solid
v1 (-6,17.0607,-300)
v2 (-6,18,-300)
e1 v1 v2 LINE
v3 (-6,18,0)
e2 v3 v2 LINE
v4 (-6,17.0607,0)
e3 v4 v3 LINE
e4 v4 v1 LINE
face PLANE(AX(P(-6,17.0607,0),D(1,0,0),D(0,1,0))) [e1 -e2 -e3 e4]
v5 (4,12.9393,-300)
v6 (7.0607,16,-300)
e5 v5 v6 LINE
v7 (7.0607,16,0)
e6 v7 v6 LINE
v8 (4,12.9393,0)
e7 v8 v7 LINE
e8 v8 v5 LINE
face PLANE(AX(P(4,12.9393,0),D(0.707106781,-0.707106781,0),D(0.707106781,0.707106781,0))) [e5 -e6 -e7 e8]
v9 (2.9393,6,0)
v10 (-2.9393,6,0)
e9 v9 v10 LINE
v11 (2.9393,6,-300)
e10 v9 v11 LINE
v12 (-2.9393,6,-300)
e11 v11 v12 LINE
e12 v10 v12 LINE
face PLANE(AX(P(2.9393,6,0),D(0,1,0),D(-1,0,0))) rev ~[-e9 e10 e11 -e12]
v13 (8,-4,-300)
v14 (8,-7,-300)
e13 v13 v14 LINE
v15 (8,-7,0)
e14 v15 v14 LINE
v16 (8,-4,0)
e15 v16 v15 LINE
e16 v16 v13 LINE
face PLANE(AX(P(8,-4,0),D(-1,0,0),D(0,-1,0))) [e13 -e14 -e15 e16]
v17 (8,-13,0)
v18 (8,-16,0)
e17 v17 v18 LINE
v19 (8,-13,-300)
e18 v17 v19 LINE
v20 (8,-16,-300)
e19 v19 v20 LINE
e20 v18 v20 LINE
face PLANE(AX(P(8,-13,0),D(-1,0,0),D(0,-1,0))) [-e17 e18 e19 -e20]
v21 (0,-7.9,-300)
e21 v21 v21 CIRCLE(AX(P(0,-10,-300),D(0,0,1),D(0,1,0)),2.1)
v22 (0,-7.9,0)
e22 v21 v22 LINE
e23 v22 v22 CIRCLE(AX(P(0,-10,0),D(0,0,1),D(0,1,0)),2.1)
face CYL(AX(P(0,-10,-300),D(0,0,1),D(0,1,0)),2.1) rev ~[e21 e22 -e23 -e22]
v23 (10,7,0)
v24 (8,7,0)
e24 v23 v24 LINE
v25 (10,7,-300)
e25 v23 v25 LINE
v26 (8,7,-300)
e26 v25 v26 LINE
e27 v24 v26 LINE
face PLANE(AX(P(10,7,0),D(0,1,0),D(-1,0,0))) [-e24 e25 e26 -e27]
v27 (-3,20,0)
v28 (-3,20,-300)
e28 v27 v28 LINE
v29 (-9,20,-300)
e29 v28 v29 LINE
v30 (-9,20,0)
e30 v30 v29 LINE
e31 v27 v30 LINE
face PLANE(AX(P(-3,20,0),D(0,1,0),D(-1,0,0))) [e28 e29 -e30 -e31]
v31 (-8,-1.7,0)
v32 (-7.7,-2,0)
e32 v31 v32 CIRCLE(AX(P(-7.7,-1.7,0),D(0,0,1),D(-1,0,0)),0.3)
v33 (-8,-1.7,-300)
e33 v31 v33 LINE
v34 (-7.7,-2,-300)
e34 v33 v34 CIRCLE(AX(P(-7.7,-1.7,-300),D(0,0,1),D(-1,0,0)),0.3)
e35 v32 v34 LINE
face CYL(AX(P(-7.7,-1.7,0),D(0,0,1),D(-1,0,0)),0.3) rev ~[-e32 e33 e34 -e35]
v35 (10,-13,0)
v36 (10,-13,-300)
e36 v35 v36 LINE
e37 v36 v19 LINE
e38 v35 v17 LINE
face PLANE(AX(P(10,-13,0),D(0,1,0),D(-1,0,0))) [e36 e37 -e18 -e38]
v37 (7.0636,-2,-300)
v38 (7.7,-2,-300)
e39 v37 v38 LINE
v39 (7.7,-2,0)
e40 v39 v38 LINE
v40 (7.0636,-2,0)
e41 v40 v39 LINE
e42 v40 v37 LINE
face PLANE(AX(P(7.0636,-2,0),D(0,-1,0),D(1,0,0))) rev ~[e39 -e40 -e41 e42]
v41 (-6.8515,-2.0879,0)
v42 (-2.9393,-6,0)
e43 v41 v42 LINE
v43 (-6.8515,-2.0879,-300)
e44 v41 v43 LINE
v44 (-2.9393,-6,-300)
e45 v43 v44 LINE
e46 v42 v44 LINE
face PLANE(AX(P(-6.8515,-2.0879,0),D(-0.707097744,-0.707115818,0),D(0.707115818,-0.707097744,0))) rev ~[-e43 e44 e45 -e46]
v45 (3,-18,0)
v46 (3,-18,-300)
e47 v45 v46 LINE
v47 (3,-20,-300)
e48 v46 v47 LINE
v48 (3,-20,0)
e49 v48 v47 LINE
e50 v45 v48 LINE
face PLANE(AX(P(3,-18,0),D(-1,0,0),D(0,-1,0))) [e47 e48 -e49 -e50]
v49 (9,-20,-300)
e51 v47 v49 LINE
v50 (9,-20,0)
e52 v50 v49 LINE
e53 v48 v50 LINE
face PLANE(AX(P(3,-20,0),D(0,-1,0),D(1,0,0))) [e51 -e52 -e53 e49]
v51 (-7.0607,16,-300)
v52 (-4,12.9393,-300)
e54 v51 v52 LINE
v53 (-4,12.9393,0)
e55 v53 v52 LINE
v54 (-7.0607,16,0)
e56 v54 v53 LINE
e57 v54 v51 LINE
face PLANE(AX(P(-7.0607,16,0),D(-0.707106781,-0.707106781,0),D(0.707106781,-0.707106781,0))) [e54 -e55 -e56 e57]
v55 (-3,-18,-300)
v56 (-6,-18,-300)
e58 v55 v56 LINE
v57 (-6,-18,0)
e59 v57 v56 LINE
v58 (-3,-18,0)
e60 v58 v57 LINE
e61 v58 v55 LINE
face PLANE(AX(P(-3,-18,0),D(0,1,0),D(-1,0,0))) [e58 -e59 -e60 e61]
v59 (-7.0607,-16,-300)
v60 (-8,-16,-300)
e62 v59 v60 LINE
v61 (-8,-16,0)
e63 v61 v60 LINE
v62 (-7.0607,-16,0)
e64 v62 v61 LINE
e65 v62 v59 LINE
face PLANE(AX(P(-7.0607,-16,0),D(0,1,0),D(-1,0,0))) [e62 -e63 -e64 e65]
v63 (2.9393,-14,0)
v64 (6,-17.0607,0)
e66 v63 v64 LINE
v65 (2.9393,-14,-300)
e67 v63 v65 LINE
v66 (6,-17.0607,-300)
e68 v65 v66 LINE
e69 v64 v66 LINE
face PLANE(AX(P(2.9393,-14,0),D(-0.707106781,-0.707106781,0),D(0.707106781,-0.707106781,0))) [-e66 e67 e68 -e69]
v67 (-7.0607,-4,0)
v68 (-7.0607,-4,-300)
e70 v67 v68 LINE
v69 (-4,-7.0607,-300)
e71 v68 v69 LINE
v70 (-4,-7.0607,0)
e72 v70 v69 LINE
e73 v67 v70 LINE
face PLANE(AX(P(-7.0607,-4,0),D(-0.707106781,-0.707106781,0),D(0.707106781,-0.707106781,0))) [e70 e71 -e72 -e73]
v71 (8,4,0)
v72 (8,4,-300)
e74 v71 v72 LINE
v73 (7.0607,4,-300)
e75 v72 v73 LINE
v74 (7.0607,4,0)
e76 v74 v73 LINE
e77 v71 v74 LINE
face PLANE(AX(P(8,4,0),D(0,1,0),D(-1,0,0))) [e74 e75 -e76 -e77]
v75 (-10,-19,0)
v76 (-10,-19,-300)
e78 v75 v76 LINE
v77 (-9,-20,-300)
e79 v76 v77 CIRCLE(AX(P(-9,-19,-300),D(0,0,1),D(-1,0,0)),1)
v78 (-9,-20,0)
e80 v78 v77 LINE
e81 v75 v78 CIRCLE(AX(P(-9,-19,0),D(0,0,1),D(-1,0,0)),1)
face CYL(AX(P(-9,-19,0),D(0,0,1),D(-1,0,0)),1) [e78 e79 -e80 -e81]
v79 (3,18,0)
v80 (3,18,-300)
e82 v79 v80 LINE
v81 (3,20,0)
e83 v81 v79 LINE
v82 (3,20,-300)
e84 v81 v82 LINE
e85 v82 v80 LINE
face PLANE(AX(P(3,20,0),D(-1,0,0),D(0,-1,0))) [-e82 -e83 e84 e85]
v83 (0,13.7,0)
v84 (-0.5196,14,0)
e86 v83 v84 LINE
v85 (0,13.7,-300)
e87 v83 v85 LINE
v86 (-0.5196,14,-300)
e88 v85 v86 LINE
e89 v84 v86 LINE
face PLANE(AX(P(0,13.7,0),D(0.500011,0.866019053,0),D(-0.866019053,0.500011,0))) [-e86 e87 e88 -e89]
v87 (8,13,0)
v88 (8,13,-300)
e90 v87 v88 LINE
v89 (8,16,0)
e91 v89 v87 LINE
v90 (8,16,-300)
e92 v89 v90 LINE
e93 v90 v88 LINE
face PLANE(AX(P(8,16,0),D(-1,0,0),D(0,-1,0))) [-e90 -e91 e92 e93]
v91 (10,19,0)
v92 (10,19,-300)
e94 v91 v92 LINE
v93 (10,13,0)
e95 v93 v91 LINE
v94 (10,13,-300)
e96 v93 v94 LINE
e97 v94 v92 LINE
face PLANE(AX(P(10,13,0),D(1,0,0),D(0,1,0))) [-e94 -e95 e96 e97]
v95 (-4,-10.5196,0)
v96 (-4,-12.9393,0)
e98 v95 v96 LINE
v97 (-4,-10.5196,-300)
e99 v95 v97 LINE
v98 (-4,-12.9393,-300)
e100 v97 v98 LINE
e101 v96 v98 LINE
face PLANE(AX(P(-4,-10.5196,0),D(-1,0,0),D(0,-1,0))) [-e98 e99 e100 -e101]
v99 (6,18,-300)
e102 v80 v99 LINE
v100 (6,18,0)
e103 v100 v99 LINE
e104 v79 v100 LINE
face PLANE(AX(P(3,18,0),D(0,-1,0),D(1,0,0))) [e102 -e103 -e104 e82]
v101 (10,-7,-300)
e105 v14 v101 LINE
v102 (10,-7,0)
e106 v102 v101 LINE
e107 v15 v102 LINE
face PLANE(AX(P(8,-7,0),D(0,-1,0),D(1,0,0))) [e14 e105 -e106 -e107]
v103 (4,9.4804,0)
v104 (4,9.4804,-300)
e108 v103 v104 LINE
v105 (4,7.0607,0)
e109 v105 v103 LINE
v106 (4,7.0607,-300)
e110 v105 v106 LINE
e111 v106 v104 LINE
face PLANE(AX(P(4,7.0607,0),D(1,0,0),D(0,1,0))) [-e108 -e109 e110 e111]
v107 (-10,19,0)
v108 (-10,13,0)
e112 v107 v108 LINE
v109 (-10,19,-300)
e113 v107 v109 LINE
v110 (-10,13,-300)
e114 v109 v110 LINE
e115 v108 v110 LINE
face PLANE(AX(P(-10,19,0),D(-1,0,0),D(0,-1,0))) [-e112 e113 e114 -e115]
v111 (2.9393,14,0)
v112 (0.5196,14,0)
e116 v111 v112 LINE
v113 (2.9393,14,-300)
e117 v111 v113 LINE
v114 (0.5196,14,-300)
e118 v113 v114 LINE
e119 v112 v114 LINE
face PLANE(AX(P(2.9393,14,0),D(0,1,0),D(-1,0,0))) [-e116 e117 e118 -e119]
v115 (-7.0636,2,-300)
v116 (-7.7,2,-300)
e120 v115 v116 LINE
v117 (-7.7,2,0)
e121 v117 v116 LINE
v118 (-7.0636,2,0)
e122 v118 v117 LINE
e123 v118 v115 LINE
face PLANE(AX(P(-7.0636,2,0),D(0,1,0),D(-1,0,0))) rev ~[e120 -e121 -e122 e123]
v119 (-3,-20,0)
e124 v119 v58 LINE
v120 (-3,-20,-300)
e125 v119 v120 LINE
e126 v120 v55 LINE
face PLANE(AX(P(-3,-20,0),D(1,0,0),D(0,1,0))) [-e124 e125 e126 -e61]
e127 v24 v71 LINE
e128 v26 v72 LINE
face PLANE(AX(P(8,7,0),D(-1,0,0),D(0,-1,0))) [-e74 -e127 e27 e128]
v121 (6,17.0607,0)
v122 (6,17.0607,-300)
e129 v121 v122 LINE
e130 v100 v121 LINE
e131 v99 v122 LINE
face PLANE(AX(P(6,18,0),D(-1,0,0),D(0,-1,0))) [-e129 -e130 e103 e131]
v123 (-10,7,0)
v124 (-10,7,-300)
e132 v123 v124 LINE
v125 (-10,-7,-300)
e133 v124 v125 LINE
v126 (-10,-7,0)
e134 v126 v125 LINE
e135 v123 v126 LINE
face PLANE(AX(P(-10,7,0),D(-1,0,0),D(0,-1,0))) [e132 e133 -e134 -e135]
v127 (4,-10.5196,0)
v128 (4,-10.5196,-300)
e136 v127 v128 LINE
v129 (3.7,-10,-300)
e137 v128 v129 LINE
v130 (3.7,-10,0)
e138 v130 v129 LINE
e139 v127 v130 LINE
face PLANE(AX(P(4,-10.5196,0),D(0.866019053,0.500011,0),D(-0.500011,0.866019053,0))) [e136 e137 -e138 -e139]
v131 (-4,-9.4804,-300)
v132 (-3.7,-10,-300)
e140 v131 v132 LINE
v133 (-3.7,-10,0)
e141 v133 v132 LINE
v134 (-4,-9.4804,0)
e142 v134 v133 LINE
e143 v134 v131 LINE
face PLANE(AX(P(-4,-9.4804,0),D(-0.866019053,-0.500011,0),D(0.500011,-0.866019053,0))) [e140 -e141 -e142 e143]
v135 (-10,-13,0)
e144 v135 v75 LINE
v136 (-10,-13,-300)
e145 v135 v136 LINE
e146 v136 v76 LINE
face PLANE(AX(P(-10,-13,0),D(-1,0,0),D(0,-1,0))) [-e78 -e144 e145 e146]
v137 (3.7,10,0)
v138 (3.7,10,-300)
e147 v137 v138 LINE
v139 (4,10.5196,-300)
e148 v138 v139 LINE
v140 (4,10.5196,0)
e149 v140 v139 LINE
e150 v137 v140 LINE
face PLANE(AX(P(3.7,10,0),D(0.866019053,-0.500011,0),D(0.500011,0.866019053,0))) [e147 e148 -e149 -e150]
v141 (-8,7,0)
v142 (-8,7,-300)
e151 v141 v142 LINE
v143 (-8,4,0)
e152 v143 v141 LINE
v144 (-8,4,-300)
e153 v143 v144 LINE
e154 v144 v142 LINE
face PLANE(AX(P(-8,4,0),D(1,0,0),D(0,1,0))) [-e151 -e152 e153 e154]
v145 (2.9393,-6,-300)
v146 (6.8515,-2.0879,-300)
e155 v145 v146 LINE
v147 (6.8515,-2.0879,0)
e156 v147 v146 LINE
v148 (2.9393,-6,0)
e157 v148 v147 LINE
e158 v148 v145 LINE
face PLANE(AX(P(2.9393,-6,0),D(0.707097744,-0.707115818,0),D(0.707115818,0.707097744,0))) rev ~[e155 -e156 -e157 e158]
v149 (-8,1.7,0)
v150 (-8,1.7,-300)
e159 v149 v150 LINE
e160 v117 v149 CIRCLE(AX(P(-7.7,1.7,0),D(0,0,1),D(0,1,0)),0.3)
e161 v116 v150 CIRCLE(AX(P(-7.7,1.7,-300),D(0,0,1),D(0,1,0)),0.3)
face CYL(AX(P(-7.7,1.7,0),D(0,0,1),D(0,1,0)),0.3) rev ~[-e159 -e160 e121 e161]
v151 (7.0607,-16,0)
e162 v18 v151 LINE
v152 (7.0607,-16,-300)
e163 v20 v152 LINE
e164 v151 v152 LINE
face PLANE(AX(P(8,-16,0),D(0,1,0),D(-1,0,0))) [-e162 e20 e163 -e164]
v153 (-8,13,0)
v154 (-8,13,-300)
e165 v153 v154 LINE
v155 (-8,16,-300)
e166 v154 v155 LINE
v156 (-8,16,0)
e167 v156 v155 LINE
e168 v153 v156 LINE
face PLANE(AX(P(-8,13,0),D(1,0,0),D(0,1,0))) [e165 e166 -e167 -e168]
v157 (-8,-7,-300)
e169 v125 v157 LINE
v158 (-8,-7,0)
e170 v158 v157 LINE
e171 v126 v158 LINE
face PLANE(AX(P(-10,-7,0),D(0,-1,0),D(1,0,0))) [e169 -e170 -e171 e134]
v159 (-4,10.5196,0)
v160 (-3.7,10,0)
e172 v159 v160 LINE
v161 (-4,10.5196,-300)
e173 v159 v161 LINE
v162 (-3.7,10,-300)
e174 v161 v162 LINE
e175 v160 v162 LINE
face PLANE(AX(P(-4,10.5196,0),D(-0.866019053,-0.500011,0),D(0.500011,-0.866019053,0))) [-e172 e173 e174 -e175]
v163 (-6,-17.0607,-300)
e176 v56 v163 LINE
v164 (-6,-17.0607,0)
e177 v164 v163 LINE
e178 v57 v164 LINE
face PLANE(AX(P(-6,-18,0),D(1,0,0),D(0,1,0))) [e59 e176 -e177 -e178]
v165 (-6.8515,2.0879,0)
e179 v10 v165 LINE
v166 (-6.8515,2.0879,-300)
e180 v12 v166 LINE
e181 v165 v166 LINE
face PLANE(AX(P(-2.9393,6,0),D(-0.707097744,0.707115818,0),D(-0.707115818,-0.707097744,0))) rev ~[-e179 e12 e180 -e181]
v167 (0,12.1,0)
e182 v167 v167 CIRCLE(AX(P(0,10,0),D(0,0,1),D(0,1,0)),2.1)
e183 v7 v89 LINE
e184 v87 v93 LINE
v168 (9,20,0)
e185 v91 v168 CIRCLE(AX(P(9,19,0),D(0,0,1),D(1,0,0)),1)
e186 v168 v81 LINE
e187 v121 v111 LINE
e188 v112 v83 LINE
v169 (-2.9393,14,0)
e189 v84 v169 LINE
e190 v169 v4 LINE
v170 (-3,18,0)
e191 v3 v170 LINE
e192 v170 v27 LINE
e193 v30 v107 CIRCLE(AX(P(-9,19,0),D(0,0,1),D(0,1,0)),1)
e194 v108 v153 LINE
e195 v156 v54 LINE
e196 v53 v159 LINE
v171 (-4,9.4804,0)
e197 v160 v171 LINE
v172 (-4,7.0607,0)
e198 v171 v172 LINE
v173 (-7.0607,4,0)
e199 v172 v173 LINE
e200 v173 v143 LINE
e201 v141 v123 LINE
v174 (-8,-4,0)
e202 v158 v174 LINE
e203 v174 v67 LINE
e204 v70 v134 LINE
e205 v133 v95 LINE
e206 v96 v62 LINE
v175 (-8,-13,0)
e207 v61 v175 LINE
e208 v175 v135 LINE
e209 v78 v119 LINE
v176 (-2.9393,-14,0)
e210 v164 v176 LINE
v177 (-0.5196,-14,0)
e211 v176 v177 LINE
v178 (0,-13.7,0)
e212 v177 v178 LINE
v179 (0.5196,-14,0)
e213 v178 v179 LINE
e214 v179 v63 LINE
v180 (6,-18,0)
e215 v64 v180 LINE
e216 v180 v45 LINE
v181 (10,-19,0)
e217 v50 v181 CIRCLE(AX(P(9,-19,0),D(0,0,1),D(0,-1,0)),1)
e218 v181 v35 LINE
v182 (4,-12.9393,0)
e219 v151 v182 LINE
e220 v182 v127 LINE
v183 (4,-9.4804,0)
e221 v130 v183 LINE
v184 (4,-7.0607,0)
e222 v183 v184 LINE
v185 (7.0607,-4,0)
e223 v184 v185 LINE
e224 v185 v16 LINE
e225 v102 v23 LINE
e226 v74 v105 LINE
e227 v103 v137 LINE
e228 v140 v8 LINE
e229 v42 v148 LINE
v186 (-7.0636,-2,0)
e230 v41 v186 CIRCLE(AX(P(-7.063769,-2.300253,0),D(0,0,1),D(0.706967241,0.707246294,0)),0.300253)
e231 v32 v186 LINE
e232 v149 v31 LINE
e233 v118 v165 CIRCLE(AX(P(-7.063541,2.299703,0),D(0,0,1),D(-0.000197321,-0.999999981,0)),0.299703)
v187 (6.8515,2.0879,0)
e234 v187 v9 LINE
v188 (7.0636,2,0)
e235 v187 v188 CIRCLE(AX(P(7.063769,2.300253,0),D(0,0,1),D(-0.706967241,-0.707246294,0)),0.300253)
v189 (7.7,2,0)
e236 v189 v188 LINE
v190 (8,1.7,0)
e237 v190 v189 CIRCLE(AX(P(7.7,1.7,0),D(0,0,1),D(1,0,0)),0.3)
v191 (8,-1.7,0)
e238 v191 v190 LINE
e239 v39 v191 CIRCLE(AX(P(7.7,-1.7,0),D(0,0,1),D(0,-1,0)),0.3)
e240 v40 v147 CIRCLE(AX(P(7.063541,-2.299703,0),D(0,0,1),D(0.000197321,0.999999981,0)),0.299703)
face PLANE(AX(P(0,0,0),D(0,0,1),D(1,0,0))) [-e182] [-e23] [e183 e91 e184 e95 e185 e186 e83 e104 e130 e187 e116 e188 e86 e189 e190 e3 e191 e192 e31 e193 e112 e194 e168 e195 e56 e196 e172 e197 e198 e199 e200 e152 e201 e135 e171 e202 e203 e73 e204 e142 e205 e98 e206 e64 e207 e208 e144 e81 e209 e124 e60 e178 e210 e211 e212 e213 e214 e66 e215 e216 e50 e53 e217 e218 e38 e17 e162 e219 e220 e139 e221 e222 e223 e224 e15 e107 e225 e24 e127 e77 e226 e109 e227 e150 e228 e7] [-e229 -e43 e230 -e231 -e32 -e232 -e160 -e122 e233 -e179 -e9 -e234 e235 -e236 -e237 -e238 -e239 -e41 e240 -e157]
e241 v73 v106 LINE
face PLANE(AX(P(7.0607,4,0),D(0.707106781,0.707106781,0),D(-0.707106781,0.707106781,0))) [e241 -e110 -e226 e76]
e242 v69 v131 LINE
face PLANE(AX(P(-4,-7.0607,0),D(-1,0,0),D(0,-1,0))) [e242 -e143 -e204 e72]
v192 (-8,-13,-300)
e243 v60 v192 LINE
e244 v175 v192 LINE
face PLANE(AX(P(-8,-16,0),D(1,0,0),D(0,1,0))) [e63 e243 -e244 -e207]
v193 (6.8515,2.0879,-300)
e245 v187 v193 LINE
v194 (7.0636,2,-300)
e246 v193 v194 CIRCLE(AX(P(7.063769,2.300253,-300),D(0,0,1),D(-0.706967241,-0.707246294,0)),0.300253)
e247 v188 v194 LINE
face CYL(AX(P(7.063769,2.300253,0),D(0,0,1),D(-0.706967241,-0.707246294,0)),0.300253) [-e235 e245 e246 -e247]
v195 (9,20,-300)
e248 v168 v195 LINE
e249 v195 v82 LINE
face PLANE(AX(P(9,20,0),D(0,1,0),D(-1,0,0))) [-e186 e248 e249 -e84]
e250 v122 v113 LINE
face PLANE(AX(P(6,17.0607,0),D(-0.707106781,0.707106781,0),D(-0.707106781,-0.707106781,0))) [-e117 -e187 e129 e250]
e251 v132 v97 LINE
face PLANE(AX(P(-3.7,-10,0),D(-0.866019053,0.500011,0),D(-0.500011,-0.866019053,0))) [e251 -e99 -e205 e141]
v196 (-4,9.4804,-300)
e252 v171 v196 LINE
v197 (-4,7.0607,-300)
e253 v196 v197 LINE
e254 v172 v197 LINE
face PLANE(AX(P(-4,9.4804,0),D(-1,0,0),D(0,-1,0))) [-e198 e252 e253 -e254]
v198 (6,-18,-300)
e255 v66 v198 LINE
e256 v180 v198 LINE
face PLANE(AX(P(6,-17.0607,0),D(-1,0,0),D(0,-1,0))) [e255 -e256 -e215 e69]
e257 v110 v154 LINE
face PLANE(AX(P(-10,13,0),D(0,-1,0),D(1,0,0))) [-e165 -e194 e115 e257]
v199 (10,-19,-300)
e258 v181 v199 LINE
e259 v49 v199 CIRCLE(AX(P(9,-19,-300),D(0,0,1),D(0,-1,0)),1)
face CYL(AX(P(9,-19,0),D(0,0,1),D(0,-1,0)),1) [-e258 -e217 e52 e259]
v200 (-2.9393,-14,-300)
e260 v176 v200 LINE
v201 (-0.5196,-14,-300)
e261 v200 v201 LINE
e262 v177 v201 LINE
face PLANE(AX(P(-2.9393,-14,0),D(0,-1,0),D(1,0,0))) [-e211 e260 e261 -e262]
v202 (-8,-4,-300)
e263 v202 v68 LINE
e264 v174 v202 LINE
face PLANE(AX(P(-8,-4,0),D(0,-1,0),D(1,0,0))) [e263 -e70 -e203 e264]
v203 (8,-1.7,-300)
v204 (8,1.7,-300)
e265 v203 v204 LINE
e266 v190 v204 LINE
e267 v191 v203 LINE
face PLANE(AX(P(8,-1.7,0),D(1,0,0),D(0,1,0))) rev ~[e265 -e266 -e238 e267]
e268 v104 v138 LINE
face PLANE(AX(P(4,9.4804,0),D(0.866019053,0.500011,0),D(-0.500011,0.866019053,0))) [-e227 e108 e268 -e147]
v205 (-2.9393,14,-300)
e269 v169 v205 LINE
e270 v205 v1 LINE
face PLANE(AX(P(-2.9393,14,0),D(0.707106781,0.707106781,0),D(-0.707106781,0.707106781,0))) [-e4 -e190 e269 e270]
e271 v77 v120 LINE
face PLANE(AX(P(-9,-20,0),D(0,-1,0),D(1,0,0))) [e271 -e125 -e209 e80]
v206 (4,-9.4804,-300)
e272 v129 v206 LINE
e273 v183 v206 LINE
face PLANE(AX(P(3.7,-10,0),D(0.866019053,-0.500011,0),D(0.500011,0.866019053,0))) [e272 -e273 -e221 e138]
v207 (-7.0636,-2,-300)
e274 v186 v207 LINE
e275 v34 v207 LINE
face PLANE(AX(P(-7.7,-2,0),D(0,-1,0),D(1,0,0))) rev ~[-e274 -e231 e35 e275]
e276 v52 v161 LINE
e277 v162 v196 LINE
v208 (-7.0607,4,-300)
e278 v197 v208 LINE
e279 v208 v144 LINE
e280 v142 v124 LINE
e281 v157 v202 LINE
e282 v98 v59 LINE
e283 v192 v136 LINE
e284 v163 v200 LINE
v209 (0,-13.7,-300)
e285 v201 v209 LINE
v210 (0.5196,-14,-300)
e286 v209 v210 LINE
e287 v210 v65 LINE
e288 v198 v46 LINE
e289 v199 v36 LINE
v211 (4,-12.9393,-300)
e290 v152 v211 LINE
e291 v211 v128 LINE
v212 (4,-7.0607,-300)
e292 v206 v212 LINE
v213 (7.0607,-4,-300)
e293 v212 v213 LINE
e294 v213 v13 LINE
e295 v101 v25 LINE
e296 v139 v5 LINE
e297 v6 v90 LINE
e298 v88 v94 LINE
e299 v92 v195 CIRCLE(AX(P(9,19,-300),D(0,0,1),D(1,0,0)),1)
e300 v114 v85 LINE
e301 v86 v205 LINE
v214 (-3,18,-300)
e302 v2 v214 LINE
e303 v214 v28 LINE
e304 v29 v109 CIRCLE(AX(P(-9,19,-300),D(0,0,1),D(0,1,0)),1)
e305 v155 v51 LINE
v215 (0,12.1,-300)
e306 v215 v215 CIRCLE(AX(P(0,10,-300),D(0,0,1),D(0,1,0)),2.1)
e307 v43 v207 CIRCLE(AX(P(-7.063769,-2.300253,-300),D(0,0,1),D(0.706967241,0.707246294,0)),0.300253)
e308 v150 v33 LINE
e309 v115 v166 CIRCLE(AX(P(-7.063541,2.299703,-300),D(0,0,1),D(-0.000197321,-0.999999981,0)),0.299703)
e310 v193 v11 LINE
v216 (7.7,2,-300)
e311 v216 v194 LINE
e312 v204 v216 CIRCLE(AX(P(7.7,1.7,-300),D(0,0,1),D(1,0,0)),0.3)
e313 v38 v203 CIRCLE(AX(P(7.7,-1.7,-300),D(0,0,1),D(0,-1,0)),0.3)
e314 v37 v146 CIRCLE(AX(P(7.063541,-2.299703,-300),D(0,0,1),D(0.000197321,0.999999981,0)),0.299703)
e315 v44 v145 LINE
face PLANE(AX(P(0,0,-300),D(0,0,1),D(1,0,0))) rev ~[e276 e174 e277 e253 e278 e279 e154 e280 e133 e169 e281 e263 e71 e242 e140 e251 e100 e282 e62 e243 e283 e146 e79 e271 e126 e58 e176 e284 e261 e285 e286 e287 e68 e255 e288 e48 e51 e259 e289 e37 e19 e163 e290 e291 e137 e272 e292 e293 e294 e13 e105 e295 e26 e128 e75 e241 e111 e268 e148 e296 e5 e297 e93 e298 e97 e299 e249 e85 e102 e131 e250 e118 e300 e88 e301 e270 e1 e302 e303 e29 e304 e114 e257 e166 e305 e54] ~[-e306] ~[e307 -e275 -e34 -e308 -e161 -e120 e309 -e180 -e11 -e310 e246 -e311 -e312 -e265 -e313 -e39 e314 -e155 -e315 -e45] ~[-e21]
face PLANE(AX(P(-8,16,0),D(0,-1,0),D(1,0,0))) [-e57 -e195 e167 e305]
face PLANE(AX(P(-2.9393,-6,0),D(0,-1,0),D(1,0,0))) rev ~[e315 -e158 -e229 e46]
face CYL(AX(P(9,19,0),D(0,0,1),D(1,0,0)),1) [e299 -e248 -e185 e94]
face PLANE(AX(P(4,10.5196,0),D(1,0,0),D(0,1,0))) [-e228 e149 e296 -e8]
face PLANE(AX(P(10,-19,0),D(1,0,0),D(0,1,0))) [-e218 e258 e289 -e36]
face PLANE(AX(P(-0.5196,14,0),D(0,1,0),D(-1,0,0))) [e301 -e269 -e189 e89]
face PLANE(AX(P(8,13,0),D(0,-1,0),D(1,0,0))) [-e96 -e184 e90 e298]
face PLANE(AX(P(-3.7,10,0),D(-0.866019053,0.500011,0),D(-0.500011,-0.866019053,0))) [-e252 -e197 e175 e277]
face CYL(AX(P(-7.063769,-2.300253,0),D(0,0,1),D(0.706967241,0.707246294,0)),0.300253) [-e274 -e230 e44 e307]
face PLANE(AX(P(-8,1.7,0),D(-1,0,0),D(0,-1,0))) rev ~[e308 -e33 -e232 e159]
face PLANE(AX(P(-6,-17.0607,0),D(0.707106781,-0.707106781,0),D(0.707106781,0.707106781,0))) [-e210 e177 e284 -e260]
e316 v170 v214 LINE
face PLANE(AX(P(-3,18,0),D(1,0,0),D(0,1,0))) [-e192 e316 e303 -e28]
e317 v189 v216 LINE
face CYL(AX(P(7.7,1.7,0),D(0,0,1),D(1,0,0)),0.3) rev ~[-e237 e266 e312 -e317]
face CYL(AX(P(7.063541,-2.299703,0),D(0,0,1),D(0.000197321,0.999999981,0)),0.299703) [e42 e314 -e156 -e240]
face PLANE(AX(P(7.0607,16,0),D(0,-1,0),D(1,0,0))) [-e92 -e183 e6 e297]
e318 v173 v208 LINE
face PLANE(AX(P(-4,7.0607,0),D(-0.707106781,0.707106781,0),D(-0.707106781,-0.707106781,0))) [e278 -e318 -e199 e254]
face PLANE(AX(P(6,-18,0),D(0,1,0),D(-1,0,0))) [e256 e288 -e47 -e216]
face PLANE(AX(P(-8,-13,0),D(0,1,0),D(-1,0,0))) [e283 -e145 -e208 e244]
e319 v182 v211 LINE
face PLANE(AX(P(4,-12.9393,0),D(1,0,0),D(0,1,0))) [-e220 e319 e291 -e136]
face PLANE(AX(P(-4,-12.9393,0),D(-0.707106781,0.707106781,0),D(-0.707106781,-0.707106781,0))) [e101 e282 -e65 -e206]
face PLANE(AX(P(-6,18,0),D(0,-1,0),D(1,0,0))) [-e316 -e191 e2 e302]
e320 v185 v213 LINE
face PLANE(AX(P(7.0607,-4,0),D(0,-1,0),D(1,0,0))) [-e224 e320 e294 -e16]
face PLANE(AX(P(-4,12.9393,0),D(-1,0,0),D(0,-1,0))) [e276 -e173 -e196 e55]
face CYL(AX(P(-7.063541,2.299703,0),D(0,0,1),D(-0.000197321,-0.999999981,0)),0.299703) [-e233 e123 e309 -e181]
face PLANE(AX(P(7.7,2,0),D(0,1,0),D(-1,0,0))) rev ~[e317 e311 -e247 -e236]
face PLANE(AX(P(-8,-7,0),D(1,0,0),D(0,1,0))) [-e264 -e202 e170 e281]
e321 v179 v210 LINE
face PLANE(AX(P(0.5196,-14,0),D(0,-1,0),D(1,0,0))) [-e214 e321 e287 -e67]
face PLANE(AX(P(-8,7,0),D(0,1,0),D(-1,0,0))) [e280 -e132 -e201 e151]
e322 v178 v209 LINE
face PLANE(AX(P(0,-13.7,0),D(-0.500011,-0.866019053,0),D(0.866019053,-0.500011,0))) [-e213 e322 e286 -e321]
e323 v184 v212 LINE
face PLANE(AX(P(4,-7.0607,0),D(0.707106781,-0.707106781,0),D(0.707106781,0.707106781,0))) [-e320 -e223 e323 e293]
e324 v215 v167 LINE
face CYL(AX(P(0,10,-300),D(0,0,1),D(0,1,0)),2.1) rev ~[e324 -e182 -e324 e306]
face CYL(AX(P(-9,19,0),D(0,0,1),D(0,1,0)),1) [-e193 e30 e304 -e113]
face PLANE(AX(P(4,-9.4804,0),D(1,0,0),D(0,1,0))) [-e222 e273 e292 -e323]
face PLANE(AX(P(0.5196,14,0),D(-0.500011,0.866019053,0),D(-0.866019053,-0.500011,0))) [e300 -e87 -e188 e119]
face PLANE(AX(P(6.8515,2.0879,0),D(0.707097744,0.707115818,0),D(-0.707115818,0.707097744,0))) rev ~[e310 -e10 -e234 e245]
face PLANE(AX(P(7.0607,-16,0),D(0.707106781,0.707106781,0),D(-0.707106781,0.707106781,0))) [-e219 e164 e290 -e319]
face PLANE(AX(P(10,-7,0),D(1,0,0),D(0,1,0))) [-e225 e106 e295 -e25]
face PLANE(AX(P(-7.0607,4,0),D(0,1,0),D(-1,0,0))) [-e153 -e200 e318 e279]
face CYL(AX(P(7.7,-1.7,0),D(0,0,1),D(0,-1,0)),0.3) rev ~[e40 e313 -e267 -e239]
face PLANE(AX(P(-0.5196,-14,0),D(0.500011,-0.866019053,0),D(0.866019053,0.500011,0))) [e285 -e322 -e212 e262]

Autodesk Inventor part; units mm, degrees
sketch "Sketch_1" plane through (0, 0, 0) normal (0, 0, 1) x (1, 0, 0)
  line L0 (-10, -7) -> (-8, -7)
  line L1 (-8, -7) -> (-8, -4)
  line L2 (-8, -4) -> (-7.0607, -4)
  line L3 (-7.0607, -4) -> (-4, -7.0607)
  line L4 (-4, -7.0607) -> (-4, -9.4804)
  line L5 (-4, -9.4804) -> (-3.7, -10)
  line L6 (-3.7, -10) -> (-4, -10.5196)
  line L7 (-4, -10.5196) -> (-4, -12.9393)
  line L8 (-4, -12.9393) -> (-7.0607, -16)
  line L9 (-7.0607, -16) -> (-8, -16)
  line L10 (-8, -16) -> (-8, -13)
  line L11 (-8, -13) -> (-10, -13)
  line L12 (-10, -13) -> (-10, -19)
  arc A0 (-10, -19) -> (-9, -20) centre (-9, -19) ccw
  line L13 (-9, -20) -> (-3, -20)
  line L14 (-3, -20) -> (-3, -18)
  line L15 (-3, -18) -> (-6, -18)
  line L16 (-6, -18) -> (-6, -17.0607)
  line L17 (-6, -17.0607) -> (-2.9393, -14)
  line L18 (-2.9393, -14) -> (-0.5196, -14)
  line L19 (-0.5196, -14) -> (0, -13.7)
  line L20 (0, -13.7) -> (0.5196, -14)
  line L21 (0.5196, -14) -> (2.9393, -14)
  line L22 (2.9393, -14) -> (6, -17.0607)
  line L23 (6, -17.0607) -> (6, -18)
  line L24 (6, -18) -> (3, -18)
  line L25 (3, -18) -> (3, -20)
  line L26 (3, -20) -> (9, -20)
  arc A1 (9, -20) -> (10, -19) centre (9, -19) ccw
  line L27 (10, -19) -> (10, -13)
  line L28 (10, -13) -> (8, -13)
  line L29 (8, -13) -> (8, -16)
  line L30 (8, -16) -> (7.0607, -16)
  line L31 (7.0607, -16) -> (4, -12.9393)
  line L32 (4, -12.9393) -> (4, -10.5196)
  line L33 (4, -10.5196) -> (3.7, -10)
  line L34 (3.7, -10) -> (4, -9.4804)
  line L35 (4, -9.4804) -> (4, -7.0607)
  line L36 (4, -7.0607) -> (7.0607, -4)
  line L37 (7.0607, -4) -> (8, -4)
  line L38 (8, -4) -> (8, -7)
  line L39 (8, -7) -> (10, -7)
  line L40 (10, -7) -> (10, 7)
  line L41 (10, 7) -> (8, 7)
  line L42 (8, 7) -> (8, 4)
  line L43 (8, 4) -> (7.0607, 4)
  line L44 (7.0607, 4) -> (4, 7.0607)
  line L45 (4, 7.0607) -> (4, 9.4804)
  line L46 (4, 9.4804) -> (3.7, 10)
  line L47 (3.7, 10) -> (4, 10.5196)
  line L48 (4, 10.5196) -> (4, 12.9393)
  line L49 (4, 12.9393) -> (7.0607, 16)
  line L50 (7.0607, 16) -> (8, 16)
  line L51 (8, 16) -> (8, 13)
  line L52 (8, 13) -> (10, 13)
  line L53 (10, 13) -> (10, 19)
  arc A2 (10, 19) -> (9, 20) centre (9, 19) ccw
  line L54 (9, 20) -> (3, 20)
  line L55 (3, 20) -> (3, 18)
  line L56 (3, 18) -> (6, 18)
  line L57 (6, 18) -> (6, 17.0607)
  line L58 (6, 17.0607) -> (2.9393, 14)
  line L59 (2.9393, 14) -> (0.5196, 14)
  line L60 (0.5196, 14) -> (0, 13.7)
  line L61 (0, 13.7) -> (-0.5196, 14)
  line L62 (-0.5196, 14) -> (-2.9393, 14)
  line L63 (-2.9393, 14) -> (-6, 17.0607)
  line L64 (-6, 17.0607) -> (-6, 18)
  line L65 (-6, 18) -> (-3, 18)
  line L66 (-3, 18) -> (-3, 20)
  line L67 (-3, 20) -> (-9, 20)
  arc A3 (-9, 20) -> (-10, 19) centre (-9, 19) ccw
  line L68 (-10, 19) -> (-10, 13)
  line L69 (-10, 13) -> (-8, 13)
  line L70 (-8, 13) -> (-8, 16)
  line L71 (-8, 16) -> (-7.0607, 16)
  line L72 (-7.0607, 16) -> (-4, 12.9393)
  line L73 (-4, 12.9393) -> (-4, 10.5196)
  line L74 (-4, 10.5196) -> (-3.7, 10)
  line L75 (-3.7, 10) -> (-4, 9.4804)
  line L76 (-4, 9.4804) -> (-4, 7.0607)
  line L77 (-4, 7.0607) -> (-7.0607, 4)
  line L78 (-7.0607, 4) -> (-8, 4)
  line L79 (-8, 4) -> (-8, 7)
  line L80 (-8, 7) -> (-10, 7)
  line L81 (-10, 7) -> (-10, -7)
  line L82 (-8, 1.7) -> (-8, -1.7)
  arc A4 (-8, -1.7) -> (-7.7, -2) centre (-7.7, -1.7) ccw
  line L83 (-7.7, -2) -> (-7.0636, -2)
  arc A5 (-6.8515, -2.0879) -> (-7.0636, -2) centre (-7.0636, -2.3) ccw
  line L84 (-6.8515, -2.0879) -> (-2.9393, -6)
  line L85 (-2.9393, -6) -> (2.9393, -6)
  line L86 (2.9393, -6) -> (6.8515, -2.0879)
  arc A6 (7.0636, -2) -> (6.8515, -2.0879) centre (7.0636, -2.3) ccw
  line L87 (7.0636, -2) -> (7.7, -2)
  arc A7 (7.7, -2) -> (8, -1.7) centre (7.7, -1.7) ccw
  line L88 (8, -1.7) -> (8, 1.7)
  arc A8 (8, 1.7) -> (7.7, 2) centre (7.7, 1.7) ccw
  line L89 (7.7, 2) -> (7.0636, 2)
  arc A9 (6.8515, 2.0879) -> (7.0636, 2) centre (7.0636, 2.3) ccw
  line L90 (6.8515, 2.0879) -> (2.9393, 6)
  line L91 (2.9393, 6) -> (-2.9393, 6)
  line L92 (-2.9393, 6) -> (-6.8515, 2.0879)
  arc A10 (-7.0636, 2) -> (-6.8515, 2.0879) centre (-7.0636, 2.3) ccw
  line L93 (-7.0636, 2) -> (-7.7, 2)
  arc A11 (-7.7, 2) -> (-8, 1.7) centre (-7.7, 1.7) ccw
extrude "Extrusion1" add sketch "Sketch_1" against normal blind 300
sketch "Sketch2" plane through (0, 0, -300) normal (0, 0, -1) x (-1, 0, 0)
  point P0 (0, 10)
hole "Hole1" at (0, 10, -300) direction (0, 0, 1) diameter 4.2 depth 300
pattern_linear "Rectangular Pattern1" count 2 spacing 20 along (0, -1, 0) of "Hole1"
ref_plane "C1_XY" through (0, 0, 0) normal (0, 0, 1) x (1, 0, 0)
ref_plane "C1_YZ" through (0, 0, 0) normal (1, 0, 0) x (0, 1, 0)
ref_plane "C1_ZX" through (0, 0, 0) normal (0, 1, 0) x (0, 0, 1)
properties part number "HFSB5-2040-300"
